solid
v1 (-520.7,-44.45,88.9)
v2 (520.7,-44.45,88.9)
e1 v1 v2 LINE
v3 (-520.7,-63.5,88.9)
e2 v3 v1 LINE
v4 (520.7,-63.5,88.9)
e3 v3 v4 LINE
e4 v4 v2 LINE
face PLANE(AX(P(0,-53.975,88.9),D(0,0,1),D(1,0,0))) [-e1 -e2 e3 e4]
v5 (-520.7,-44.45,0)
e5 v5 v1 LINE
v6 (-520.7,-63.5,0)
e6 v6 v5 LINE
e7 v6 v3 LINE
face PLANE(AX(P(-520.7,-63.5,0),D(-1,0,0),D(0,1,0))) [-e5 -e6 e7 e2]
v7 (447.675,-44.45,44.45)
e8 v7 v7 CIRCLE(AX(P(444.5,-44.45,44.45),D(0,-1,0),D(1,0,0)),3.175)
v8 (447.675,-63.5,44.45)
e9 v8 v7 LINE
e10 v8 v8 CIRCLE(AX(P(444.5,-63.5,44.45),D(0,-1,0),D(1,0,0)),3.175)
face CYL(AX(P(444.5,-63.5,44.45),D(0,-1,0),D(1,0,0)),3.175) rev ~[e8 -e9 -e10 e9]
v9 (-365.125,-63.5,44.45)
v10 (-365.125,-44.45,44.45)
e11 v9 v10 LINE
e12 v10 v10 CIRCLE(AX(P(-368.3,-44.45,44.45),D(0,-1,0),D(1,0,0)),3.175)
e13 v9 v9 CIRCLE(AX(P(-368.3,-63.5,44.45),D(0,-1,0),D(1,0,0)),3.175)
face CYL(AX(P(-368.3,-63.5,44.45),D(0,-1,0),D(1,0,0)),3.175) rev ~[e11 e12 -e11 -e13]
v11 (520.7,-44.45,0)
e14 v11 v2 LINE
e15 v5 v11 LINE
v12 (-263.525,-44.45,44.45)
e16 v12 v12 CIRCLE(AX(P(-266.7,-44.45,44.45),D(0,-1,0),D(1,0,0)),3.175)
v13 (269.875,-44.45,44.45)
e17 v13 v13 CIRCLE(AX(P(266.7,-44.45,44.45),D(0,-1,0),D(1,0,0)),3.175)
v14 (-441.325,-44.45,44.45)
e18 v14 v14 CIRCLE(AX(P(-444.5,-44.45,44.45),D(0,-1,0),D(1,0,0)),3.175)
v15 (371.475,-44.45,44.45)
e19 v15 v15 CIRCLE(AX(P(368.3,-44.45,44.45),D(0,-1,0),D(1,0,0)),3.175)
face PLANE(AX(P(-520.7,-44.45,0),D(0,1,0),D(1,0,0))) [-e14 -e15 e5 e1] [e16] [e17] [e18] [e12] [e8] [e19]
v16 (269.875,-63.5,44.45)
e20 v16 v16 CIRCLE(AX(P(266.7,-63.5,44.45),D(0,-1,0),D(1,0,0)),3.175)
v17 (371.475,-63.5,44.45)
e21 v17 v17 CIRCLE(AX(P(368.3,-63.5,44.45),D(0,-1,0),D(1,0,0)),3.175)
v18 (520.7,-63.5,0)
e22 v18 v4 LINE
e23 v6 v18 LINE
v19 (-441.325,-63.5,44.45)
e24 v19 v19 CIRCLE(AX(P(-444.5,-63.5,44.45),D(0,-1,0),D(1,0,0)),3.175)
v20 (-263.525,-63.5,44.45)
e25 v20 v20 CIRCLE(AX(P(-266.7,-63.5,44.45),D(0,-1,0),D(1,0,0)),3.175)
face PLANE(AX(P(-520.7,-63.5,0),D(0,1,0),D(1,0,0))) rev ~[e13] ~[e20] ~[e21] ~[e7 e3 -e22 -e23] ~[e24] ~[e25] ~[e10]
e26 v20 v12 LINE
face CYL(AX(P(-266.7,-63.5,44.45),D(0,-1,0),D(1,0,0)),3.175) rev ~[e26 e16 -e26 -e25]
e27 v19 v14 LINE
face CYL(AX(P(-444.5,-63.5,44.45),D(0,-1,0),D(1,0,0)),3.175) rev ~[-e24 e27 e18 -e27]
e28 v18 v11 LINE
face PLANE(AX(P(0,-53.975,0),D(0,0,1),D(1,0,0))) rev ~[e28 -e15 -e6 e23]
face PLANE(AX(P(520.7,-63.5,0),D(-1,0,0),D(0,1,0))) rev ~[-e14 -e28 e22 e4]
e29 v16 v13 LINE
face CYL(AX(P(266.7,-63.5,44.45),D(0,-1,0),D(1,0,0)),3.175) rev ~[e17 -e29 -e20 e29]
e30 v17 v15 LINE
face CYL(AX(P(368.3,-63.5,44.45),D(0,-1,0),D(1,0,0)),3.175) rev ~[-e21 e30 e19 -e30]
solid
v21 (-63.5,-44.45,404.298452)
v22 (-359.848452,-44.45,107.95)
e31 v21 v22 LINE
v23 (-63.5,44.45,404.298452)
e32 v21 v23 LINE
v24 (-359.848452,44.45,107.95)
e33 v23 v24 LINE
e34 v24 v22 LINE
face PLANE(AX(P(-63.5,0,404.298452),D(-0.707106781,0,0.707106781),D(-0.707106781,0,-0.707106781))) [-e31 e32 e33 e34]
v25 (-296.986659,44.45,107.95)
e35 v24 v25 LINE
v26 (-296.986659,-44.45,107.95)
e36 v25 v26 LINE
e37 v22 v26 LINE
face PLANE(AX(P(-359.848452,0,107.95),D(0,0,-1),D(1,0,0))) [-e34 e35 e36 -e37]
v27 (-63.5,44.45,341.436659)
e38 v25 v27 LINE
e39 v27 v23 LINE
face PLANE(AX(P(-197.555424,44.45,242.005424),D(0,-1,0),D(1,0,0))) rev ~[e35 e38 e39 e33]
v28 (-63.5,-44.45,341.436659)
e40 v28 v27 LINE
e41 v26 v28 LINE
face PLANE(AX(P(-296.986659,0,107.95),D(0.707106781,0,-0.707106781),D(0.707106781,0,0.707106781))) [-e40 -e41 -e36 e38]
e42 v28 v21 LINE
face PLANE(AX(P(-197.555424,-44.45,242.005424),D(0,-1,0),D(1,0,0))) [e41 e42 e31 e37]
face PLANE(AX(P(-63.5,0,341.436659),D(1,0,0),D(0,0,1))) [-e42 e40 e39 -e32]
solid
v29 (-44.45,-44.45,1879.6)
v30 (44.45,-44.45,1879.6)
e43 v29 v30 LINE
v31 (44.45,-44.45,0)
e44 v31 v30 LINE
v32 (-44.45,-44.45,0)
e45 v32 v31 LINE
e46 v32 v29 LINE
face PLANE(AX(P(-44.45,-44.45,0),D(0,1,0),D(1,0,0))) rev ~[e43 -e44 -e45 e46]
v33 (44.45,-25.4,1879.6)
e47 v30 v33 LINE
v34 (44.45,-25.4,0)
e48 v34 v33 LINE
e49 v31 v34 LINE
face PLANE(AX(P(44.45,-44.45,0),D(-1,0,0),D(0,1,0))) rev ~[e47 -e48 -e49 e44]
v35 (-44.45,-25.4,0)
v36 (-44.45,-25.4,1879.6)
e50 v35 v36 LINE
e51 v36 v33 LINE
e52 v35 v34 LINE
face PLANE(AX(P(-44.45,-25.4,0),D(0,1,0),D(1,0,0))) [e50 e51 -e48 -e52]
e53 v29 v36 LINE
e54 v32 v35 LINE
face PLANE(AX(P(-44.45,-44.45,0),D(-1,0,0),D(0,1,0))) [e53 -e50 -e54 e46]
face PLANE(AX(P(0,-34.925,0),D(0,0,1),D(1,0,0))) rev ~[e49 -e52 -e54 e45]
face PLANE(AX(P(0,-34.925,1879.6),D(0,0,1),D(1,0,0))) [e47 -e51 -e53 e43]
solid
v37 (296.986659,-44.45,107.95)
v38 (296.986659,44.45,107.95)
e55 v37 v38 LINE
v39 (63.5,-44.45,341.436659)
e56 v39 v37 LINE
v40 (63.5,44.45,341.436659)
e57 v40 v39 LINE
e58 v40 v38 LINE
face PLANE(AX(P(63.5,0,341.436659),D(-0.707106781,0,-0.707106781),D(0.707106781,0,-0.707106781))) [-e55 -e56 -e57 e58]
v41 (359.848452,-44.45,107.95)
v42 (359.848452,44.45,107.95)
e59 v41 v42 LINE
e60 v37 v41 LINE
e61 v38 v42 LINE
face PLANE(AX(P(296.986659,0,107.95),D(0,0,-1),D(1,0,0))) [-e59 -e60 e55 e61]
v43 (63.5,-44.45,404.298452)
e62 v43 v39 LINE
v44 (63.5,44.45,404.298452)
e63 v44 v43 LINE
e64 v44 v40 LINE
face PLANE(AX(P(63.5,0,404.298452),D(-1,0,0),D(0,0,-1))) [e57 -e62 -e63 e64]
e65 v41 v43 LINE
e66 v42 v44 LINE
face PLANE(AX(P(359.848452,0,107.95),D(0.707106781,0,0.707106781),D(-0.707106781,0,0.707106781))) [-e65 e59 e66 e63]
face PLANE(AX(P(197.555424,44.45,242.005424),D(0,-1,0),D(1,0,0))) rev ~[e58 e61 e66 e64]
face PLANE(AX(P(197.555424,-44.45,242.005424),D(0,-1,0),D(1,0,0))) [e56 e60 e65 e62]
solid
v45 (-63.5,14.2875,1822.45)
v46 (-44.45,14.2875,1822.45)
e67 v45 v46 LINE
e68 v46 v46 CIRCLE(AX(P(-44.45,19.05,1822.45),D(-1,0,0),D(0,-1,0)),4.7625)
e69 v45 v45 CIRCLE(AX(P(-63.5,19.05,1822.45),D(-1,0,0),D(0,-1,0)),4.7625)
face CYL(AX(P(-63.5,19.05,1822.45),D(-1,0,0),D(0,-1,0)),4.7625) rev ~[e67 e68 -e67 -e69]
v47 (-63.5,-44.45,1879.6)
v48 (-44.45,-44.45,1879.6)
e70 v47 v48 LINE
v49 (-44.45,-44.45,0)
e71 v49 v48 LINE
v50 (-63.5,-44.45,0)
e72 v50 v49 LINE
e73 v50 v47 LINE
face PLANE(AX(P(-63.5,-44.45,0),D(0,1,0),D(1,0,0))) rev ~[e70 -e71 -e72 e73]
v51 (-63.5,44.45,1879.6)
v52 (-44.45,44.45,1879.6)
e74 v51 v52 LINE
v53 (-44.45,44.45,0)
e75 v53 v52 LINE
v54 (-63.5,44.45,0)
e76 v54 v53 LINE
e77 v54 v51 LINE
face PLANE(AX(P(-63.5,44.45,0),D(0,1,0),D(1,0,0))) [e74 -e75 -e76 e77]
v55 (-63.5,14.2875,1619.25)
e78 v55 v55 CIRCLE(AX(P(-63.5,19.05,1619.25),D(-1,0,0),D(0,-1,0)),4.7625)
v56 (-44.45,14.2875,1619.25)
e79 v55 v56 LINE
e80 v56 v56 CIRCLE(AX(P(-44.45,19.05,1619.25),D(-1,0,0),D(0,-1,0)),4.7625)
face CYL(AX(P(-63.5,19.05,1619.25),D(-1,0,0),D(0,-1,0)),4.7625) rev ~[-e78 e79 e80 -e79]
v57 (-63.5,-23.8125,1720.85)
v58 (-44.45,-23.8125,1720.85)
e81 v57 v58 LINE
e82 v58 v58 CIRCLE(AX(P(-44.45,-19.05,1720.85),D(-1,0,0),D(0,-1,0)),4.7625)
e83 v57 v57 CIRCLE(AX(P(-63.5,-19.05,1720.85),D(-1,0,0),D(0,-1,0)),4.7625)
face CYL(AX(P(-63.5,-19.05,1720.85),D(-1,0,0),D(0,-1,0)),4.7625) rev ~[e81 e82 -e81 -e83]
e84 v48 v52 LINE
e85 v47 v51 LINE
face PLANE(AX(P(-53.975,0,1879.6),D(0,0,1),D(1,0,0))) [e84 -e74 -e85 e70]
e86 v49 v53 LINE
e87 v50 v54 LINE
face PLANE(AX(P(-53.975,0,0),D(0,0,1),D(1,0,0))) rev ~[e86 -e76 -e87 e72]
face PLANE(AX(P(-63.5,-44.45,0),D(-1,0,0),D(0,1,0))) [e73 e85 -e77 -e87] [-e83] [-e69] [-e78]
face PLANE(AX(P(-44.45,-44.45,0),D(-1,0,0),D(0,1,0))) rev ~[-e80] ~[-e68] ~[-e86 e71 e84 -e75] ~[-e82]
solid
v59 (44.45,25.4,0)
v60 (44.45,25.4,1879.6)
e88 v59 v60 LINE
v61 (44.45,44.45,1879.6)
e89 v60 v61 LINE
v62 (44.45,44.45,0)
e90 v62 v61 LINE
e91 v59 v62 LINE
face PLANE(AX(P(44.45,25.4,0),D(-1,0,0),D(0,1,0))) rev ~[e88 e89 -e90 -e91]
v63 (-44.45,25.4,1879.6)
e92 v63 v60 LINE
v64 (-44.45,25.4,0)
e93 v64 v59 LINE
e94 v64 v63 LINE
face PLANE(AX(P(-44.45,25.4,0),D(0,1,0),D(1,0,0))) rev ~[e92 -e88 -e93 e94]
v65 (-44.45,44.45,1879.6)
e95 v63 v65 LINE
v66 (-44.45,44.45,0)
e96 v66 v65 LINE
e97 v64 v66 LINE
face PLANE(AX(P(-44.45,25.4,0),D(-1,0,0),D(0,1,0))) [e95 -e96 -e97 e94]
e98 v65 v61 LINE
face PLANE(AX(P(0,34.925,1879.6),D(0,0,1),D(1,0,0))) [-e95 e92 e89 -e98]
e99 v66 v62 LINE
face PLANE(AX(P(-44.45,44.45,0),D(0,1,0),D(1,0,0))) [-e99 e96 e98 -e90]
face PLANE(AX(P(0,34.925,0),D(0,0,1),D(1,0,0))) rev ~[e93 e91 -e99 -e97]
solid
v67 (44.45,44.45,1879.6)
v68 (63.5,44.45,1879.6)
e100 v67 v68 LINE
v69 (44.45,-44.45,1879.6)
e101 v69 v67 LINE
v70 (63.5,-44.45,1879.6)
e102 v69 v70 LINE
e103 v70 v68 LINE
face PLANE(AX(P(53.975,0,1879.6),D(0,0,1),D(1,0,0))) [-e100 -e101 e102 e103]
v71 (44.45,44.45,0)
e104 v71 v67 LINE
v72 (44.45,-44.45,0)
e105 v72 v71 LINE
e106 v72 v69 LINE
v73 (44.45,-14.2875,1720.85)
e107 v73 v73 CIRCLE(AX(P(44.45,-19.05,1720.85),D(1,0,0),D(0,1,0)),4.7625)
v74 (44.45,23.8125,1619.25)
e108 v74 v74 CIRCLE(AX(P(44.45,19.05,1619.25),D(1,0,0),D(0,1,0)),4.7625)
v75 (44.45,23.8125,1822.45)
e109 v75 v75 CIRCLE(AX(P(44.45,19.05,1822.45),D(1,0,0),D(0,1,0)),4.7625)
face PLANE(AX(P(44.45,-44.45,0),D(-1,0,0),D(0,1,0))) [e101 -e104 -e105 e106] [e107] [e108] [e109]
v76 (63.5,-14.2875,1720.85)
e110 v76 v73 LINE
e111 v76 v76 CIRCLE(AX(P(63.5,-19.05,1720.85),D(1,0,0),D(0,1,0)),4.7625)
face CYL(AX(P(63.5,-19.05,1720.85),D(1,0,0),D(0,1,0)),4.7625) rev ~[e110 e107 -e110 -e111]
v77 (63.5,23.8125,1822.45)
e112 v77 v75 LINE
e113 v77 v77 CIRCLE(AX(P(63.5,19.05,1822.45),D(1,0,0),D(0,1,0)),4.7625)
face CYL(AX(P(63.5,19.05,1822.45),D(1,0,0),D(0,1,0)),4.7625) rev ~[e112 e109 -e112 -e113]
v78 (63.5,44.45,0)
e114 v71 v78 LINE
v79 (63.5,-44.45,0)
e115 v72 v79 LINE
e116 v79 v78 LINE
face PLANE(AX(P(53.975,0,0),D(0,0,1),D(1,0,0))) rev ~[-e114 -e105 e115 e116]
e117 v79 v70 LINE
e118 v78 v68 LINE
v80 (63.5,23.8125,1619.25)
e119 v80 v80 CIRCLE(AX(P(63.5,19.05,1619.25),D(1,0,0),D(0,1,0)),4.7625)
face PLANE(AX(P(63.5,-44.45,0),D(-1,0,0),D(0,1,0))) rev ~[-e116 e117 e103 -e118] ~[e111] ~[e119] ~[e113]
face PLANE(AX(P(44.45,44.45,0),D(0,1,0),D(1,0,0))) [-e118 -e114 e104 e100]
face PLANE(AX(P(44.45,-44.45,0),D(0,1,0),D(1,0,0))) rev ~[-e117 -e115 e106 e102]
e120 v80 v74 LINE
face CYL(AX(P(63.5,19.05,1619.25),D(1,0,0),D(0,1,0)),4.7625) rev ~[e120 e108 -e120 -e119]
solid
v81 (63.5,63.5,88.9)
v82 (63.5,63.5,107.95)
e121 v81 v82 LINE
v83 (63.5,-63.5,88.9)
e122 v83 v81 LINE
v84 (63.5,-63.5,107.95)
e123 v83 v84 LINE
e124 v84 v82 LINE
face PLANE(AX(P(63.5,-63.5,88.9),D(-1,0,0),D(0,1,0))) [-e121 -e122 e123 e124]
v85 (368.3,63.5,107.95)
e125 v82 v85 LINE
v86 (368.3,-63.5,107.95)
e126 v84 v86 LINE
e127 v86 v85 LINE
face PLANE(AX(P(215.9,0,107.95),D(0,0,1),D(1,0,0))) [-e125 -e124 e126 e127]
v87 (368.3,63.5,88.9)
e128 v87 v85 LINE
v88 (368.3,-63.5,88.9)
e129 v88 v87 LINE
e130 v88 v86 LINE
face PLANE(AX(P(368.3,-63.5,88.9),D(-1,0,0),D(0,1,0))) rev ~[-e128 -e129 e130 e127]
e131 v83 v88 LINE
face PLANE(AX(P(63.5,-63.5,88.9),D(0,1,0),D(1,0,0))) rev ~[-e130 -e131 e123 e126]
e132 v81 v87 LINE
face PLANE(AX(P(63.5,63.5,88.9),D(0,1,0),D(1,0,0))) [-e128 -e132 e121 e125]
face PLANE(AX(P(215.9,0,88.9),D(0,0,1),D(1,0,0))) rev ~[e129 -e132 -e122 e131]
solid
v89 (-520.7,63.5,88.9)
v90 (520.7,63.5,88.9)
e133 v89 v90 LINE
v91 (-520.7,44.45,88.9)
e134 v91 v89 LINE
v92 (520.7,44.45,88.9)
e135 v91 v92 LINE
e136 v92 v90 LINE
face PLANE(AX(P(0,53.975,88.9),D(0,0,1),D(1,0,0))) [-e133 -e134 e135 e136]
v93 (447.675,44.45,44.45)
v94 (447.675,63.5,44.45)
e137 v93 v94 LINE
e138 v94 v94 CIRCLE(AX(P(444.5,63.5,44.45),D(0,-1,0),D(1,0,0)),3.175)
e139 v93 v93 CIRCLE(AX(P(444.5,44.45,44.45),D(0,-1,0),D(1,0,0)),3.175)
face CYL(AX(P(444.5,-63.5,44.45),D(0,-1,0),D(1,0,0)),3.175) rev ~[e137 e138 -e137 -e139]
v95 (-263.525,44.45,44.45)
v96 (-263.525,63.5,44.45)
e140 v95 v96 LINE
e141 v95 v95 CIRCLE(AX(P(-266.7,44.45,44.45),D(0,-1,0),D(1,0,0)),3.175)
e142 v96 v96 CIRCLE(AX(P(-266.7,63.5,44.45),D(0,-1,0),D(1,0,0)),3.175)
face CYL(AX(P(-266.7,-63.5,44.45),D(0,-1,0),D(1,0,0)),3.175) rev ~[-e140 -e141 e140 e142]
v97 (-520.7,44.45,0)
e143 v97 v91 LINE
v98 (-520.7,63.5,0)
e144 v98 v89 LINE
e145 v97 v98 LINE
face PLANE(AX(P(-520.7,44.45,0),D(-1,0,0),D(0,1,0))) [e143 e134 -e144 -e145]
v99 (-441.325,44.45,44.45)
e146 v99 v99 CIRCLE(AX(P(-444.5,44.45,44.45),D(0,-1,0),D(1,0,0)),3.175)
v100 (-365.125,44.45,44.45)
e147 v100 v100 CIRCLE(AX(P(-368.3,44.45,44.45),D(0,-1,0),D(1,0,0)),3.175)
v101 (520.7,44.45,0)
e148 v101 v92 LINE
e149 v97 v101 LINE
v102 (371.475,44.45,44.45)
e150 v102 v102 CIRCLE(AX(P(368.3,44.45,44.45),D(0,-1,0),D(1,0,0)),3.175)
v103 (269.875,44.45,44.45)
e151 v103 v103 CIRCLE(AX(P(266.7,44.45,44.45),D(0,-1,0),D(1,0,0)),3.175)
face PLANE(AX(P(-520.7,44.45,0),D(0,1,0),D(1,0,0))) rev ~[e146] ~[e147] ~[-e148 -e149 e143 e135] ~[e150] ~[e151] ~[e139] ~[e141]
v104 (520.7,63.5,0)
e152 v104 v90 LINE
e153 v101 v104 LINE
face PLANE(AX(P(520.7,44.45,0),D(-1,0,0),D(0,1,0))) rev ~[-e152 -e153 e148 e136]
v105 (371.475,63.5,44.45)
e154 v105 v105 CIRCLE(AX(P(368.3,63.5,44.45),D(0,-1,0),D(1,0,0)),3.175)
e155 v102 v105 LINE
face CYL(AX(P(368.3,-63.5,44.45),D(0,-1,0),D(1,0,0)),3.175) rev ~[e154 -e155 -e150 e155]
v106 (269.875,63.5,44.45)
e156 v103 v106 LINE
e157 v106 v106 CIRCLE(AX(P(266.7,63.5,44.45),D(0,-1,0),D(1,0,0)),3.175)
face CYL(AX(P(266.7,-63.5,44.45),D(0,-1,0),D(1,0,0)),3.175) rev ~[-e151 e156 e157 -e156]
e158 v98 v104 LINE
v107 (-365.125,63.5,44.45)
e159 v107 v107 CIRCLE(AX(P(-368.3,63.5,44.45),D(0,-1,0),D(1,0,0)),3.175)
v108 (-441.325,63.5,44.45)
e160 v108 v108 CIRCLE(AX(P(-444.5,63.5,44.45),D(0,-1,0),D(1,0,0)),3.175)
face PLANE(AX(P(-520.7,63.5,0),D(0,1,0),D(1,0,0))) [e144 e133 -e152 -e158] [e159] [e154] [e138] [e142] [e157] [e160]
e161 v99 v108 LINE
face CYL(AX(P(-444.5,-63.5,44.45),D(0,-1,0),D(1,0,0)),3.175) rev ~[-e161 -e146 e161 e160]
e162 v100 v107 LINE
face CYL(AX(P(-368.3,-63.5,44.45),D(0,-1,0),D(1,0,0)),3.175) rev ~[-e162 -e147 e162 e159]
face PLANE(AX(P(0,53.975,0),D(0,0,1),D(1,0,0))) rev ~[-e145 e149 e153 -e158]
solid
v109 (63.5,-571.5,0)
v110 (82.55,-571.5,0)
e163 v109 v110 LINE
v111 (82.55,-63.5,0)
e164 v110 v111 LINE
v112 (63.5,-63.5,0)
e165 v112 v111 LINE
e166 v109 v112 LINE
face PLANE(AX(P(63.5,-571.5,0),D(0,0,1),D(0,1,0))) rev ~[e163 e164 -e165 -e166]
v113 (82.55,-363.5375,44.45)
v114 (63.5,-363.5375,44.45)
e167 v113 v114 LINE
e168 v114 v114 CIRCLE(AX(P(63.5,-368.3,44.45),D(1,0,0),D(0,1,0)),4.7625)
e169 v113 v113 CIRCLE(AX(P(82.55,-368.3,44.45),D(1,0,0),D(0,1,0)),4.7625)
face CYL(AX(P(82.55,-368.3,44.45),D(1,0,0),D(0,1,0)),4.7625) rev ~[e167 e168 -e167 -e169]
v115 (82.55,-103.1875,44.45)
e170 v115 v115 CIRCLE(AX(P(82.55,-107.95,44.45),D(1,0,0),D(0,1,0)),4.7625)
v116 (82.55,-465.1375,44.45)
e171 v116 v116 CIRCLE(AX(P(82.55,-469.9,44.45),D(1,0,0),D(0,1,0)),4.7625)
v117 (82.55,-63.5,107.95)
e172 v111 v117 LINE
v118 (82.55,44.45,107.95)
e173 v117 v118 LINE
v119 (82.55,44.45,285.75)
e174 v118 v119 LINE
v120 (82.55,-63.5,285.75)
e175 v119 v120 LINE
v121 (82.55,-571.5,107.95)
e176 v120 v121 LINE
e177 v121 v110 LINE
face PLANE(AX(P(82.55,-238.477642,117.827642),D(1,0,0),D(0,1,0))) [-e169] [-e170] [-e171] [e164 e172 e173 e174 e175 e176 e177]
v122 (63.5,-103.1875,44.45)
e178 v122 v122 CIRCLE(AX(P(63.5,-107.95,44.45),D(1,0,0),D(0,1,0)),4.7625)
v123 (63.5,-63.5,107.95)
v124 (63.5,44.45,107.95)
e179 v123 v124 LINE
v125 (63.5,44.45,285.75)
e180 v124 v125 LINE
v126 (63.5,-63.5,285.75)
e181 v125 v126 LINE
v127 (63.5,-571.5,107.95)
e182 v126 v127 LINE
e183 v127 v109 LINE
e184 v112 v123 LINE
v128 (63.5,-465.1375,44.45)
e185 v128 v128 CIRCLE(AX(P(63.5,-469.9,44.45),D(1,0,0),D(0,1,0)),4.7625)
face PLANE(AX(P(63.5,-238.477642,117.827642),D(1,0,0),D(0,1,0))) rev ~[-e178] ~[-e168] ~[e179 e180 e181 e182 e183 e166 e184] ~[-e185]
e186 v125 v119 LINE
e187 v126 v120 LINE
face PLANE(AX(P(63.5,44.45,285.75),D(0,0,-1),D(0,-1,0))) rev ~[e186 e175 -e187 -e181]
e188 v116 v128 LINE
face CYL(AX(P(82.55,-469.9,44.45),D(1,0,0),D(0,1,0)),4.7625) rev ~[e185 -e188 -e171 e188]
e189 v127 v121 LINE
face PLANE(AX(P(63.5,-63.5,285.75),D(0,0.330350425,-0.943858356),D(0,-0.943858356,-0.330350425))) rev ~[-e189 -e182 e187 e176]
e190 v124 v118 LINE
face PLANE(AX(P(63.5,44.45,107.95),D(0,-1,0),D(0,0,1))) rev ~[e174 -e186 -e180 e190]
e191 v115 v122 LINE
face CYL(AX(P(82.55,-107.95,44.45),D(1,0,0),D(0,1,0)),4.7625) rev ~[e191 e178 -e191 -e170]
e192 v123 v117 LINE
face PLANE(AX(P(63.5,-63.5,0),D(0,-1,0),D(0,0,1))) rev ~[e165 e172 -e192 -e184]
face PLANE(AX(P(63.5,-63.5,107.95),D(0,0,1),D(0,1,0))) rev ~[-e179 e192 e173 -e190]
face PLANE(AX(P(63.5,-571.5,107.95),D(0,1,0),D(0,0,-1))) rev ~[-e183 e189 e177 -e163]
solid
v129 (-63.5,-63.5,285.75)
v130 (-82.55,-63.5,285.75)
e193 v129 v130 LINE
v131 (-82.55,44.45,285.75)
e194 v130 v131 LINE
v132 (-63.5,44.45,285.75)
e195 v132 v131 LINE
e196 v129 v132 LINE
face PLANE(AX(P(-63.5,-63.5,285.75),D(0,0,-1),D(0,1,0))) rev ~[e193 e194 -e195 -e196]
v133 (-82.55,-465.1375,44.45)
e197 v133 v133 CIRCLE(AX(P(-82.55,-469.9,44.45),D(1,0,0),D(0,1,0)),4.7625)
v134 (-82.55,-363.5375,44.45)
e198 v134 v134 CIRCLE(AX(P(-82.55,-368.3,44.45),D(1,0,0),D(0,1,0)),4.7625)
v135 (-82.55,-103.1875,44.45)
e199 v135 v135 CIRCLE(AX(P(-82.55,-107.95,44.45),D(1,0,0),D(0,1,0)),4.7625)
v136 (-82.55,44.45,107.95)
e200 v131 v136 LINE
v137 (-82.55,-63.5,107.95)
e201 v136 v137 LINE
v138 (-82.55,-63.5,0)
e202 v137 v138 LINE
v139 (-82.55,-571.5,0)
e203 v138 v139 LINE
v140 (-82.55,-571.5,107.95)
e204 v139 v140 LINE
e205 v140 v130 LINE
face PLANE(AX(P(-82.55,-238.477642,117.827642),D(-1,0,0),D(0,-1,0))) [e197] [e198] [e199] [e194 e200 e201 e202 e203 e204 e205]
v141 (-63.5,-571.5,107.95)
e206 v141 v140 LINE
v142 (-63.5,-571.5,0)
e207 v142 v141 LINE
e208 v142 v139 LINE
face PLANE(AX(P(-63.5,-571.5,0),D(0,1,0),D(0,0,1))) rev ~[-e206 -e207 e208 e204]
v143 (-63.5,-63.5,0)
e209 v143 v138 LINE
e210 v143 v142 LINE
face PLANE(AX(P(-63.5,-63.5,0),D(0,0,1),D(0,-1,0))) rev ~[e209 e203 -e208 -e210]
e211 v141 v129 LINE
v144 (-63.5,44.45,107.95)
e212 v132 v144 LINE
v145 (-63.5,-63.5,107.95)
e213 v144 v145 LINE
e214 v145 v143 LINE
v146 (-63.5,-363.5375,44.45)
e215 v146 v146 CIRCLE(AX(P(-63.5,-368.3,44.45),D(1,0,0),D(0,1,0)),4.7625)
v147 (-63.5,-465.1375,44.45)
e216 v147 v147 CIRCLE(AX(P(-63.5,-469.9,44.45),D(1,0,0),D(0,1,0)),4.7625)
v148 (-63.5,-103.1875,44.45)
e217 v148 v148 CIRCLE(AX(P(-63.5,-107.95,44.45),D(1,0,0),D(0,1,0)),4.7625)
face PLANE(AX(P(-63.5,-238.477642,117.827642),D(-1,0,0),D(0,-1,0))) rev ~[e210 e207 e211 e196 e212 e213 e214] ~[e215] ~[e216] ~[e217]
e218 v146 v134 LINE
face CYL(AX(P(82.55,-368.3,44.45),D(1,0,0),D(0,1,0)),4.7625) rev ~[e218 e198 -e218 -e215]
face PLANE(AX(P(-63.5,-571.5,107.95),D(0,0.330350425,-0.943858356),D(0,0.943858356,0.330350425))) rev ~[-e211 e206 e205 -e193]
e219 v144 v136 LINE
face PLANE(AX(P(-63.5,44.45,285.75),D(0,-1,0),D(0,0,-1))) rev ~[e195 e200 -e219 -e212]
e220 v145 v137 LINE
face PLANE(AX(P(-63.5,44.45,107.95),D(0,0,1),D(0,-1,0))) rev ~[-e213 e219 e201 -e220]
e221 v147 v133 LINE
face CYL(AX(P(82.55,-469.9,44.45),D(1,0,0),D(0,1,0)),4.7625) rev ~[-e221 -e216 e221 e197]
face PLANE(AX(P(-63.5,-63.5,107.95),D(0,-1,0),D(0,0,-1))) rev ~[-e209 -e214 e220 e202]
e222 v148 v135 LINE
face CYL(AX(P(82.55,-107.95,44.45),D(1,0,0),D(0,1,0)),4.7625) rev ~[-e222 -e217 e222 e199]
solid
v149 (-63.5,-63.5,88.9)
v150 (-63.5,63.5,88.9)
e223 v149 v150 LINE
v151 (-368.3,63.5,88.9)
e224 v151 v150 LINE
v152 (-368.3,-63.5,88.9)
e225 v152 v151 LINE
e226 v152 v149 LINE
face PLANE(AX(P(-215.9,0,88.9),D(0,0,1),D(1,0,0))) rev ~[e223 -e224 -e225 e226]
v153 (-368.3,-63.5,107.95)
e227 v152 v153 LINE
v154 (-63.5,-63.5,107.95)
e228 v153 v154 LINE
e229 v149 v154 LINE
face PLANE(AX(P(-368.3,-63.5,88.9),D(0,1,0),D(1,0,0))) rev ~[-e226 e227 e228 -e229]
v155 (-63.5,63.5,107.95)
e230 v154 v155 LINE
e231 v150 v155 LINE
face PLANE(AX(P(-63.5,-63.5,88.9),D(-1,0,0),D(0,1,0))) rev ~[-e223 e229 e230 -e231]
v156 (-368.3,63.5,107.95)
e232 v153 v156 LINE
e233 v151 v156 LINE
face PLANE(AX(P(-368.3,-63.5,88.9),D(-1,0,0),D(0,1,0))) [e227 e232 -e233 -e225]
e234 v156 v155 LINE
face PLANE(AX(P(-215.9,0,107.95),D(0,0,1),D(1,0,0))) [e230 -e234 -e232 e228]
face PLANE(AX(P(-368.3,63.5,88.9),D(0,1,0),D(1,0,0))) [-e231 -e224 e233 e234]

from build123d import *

# Parameters (mm, degrees)
F0_W          = 88.9
F0_H          = 19.05
F1_DEPTH      = 1879.6
F2_W          = 19.05
F2_H          = 88.9
F3_DEPTH      = 1879.6
F4_W          = 1041.4
F4_H          = 19.05
F5_DEPTH      = 88.9
F6_W          = 304.8
F6_H          = 127
F7_DEPTH      = 19.05
F9_DEPTH      = 44.45
F9_DEPTH_BACK = 44.45
F11_DEPTH     = 19.05
F13_DEPTH     = 19.05
F14_R         = 3.175
F15_DEPTH     = 127.001
F16_R         = 3.175
F17_DEPTH     = 635.001
F18_R         = 4.7625
F19_DEPTH     = 603.251
F20_R         = 4.7625
F21_DEPTH     = 25.4
F22_R         = 4.7625
F23_DEPTH     = 25.4
F24_R         = 4.7625
F25_DEPTH     = 25.4


with BuildPart() as f1:
    # F0 (on Top) → F1 (new body)
    with BuildSketch(Plane.XY):
        with Locations((0, 34.925)):
            Rectangle(F0_W, F0_H)
    extrude(amount=F1_DEPTH)

    # F16 (on face) → F17 (cut, through all)
    with BuildSketch(Plane(origin=(0, 63.5, 0), x_dir=(-1, 0, 0), z_dir=(0, 1, 0))):
        with Locations((-444.5, 44.45)):
            Circle(F16_R)
        with Locations((-368.3, 44.45)):
            Circle(F16_R)
        with Locations((-266.7, 44.45)):
            Circle(F16_R)
        with Locations((266.7, 44.45)):
            Circle(F16_R)
        with Locations((368.3, 44.45)):
            Circle(F16_R)
        with Locations((444.5, 44.45)):
            Circle(F16_R)
    extrude(amount=-F17_DEPTH, mode=Mode.SUBTRACT)

    # F20 (on face) → F21 (cut)
    with BuildSketch(Plane(origin=(-82.55, 0, 0), x_dir=(0, -1, 0), z_dir=(-1, 0, 0))):
        with Locations((107.95, 44.45)):
            Circle(F20_R)
        with Locations((368.3, 44.45)):
            Circle(F20_R)
        with Locations((469.9, 44.45)):
            Circle(F20_R)
    extrude(amount=-F21_DEPTH, mode=Mode.SUBTRACT)


with BuildPart() as f1b:
    # F0 (on Top) → F1, piece 2 (new body)
    with BuildSketch(Plane.XY):
        with Locations((0, -34.925)):
            Rectangle(F0_W, F0_H)
    extrude(amount=F1_DEPTH)


with BuildPart() as f3:
    # F2 (on Top) → F3 (new body)
    with BuildSketch(Plane.XY):
        with Locations((53.975, 0)):
            Rectangle(F2_W, F2_H)
    extrude(amount=F3_DEPTH)

    # F22 (on face) → F23 (cut)
    with BuildSketch(Plane.YZ.offset(63.5)):
        with Locations((19.05, 1822.45)):
            Circle(F22_R)
        with Locations((-19.05, 1720.85)):
            Circle(F22_R)
        with Locations((19.05, 1619.25)):
            Circle(F22_R)
    extrude(amount=-F23_DEPTH, mode=Mode.SUBTRACT)


with BuildPart() as f3b:
    # F2 (on Top) → F3, piece 2 (new body)
    with BuildSketch(Plane.XY):
        with Locations((-53.975, 0)):
            Rectangle(F2_W, F2_H)
    extrude(amount=F3_DEPTH)

    # F24 (on face) → F25 (cut)
    with BuildSketch(Plane(origin=(-63.5, 0, 0), x_dir=(0, -1, 0), z_dir=(-1, 0, 0))):
        with Locations((-19.05, 1822.45)):
            Circle(F24_R)
        with Locations((19.05, 1720.85)):
            Circle(F24_R)
        with Locations((-19.05, 1619.25)):
            Circle(F24_R)
    extrude(amount=-F25_DEPTH, mode=Mode.SUBTRACT)


with BuildPart() as f5:
    # F4 (on Top) → F5 (new body)
    with BuildSketch(Plane.XY):
        with Locations((0, 53.975)):
            Rectangle(F4_W, F4_H)
    extrude(amount=F5_DEPTH)


with BuildPart() as f5b:
    # F4 (on Top) → F5, piece 2 (new body)
    with BuildSketch(Plane.XY):
        with Locations((0, -53.975)):
            Rectangle(F4_W, F4_H)
    extrude(amount=F5_DEPTH)


with BuildPart() as f7:
    # F6 (on face) → F7 (new body)
    with BuildSketch(Plane.XY.offset(88.9)):
        with Locations((-215.9, 0)):
            Rectangle(F6_W, F6_H)
    extrude(amount=F7_DEPTH)


with BuildPart() as f7b:
    # F6 (on face) → F7, piece 2 (new body)
    with BuildSketch(Plane.XY.offset(88.9)):
        with Locations((215.9, 0)):
            Rectangle(F6_W, F6_H)
    extrude(amount=F7_DEPTH)


with BuildPart() as f9:
    # F8 (on Front) → F9 (new body, two sides)
    with BuildSketch(Plane.XZ) as f9_sk:
        Polygon((-63.5, 404.2984519953), (-359.8484519953, 107.95), (-296.9866591478, 107.95), (-63.5, 341.4366591478), align=None)
    extrude(amount=F9_DEPTH)
    extrude(f9_sk.sketch, amount=-F9_DEPTH_BACK)


with BuildPart() as f9b:
    # F8 (on Front) → F9, piece 2 (new body, two sides)
    with BuildSketch(Plane.XZ) as f9_2_sk:
        Polygon((359.8484519953, 107.95), (63.5, 404.2984519953), (63.5, 341.4366591478), (296.9866591478, 107.95), align=None)
    extrude(amount=F9_DEPTH)
    extrude(f9_2_sk.sketch, amount=-F9_DEPTH_BACK)


with BuildPart() as f11:
    # F10 (on face) → F11 (new body)
    with BuildSketch(Plane(origin=(-63.5, 0, 0), x_dir=(0, -1, 0), z_dir=(-1, 0, 0))):
        Polygon((-44.45, 285.75), (-44.45, 107.95), (63.5, 107.95), (63.5, 0), (571.5, 0), (571.5, 107.95), (63.5, 285.75), align=None)
    extrude(amount=F11_DEPTH)


with BuildPart() as f13:
    # F12 (on face) → F13 (new body)
    with BuildSketch(Plane.YZ.offset(63.5)):
        Polygon((-63.5, 0), (-63.5, 107.95), (44.45, 107.95), (44.45, 285.75), (-63.5, 285.75), (-571.5, 107.95), (-571.5, 0), align=None)
    extrude(amount=F13_DEPTH)


with BuildPart() as f15_tool:
    # F14 (on face) → F15 (new body, through all)
    with BuildSketch(Plane.XZ.offset(63.5)):
        with Locations((266.7, 44.45)):
            Circle(F14_R)
        with Locations((368.3, 44.45)):
            Circle(F14_R)
        with Locations((444.5, 44.45)):
            Circle(F14_R)
        with Locations((-444.5, 44.45)):
            Circle(F14_R)
        with Locations((-368.3, 44.45)):
            Circle(F14_R)
        with Locations((-266.7, 44.45)):
            Circle(F14_R)
    extrude(amount=-F15_DEPTH)


with BuildPart() as f5_1:
    add(f5.part)

    # F15: cut by f15_tool
    add(f15_tool.part, mode=Mode.SUBTRACT)


with BuildPart() as f5b_1:
    add(f5b.part)

    # F15: cut by f15_tool
    add(f15_tool.part, mode=Mode.SUBTRACT)


with BuildPart() as f19_tool:
    # F18 (on face) → F19 (new body, through all)
    with BuildSketch(Plane.YZ.offset(82.55)):
        with Locations((-107.95, 44.45)):
            Circle(F18_R)
        with Locations((-368.3, 44.45)):
            Circle(F18_R)
        with Locations((-469.9, 44.45)):
            Circle(F18_R)
    extrude(amount=-F19_DEPTH)


with BuildPart() as f11_1:
    add(f11.part)

    # F19: cut by f19_tool
    add(f19_tool.part, mode=Mode.SUBTRACT)


with BuildPart() as f13_1:
    add(f13.part)

    # F19: cut by f19_tool
    add(f19_tool.part, mode=Mode.SUBTRACT)


solid = Compound([f1.part, f1b.part, f3.part, f3b.part, f7.part, f7b.part, f9.part, f9b.part, f5_1.part, f5b_1.part, f11_1.part, f13_1.part])
